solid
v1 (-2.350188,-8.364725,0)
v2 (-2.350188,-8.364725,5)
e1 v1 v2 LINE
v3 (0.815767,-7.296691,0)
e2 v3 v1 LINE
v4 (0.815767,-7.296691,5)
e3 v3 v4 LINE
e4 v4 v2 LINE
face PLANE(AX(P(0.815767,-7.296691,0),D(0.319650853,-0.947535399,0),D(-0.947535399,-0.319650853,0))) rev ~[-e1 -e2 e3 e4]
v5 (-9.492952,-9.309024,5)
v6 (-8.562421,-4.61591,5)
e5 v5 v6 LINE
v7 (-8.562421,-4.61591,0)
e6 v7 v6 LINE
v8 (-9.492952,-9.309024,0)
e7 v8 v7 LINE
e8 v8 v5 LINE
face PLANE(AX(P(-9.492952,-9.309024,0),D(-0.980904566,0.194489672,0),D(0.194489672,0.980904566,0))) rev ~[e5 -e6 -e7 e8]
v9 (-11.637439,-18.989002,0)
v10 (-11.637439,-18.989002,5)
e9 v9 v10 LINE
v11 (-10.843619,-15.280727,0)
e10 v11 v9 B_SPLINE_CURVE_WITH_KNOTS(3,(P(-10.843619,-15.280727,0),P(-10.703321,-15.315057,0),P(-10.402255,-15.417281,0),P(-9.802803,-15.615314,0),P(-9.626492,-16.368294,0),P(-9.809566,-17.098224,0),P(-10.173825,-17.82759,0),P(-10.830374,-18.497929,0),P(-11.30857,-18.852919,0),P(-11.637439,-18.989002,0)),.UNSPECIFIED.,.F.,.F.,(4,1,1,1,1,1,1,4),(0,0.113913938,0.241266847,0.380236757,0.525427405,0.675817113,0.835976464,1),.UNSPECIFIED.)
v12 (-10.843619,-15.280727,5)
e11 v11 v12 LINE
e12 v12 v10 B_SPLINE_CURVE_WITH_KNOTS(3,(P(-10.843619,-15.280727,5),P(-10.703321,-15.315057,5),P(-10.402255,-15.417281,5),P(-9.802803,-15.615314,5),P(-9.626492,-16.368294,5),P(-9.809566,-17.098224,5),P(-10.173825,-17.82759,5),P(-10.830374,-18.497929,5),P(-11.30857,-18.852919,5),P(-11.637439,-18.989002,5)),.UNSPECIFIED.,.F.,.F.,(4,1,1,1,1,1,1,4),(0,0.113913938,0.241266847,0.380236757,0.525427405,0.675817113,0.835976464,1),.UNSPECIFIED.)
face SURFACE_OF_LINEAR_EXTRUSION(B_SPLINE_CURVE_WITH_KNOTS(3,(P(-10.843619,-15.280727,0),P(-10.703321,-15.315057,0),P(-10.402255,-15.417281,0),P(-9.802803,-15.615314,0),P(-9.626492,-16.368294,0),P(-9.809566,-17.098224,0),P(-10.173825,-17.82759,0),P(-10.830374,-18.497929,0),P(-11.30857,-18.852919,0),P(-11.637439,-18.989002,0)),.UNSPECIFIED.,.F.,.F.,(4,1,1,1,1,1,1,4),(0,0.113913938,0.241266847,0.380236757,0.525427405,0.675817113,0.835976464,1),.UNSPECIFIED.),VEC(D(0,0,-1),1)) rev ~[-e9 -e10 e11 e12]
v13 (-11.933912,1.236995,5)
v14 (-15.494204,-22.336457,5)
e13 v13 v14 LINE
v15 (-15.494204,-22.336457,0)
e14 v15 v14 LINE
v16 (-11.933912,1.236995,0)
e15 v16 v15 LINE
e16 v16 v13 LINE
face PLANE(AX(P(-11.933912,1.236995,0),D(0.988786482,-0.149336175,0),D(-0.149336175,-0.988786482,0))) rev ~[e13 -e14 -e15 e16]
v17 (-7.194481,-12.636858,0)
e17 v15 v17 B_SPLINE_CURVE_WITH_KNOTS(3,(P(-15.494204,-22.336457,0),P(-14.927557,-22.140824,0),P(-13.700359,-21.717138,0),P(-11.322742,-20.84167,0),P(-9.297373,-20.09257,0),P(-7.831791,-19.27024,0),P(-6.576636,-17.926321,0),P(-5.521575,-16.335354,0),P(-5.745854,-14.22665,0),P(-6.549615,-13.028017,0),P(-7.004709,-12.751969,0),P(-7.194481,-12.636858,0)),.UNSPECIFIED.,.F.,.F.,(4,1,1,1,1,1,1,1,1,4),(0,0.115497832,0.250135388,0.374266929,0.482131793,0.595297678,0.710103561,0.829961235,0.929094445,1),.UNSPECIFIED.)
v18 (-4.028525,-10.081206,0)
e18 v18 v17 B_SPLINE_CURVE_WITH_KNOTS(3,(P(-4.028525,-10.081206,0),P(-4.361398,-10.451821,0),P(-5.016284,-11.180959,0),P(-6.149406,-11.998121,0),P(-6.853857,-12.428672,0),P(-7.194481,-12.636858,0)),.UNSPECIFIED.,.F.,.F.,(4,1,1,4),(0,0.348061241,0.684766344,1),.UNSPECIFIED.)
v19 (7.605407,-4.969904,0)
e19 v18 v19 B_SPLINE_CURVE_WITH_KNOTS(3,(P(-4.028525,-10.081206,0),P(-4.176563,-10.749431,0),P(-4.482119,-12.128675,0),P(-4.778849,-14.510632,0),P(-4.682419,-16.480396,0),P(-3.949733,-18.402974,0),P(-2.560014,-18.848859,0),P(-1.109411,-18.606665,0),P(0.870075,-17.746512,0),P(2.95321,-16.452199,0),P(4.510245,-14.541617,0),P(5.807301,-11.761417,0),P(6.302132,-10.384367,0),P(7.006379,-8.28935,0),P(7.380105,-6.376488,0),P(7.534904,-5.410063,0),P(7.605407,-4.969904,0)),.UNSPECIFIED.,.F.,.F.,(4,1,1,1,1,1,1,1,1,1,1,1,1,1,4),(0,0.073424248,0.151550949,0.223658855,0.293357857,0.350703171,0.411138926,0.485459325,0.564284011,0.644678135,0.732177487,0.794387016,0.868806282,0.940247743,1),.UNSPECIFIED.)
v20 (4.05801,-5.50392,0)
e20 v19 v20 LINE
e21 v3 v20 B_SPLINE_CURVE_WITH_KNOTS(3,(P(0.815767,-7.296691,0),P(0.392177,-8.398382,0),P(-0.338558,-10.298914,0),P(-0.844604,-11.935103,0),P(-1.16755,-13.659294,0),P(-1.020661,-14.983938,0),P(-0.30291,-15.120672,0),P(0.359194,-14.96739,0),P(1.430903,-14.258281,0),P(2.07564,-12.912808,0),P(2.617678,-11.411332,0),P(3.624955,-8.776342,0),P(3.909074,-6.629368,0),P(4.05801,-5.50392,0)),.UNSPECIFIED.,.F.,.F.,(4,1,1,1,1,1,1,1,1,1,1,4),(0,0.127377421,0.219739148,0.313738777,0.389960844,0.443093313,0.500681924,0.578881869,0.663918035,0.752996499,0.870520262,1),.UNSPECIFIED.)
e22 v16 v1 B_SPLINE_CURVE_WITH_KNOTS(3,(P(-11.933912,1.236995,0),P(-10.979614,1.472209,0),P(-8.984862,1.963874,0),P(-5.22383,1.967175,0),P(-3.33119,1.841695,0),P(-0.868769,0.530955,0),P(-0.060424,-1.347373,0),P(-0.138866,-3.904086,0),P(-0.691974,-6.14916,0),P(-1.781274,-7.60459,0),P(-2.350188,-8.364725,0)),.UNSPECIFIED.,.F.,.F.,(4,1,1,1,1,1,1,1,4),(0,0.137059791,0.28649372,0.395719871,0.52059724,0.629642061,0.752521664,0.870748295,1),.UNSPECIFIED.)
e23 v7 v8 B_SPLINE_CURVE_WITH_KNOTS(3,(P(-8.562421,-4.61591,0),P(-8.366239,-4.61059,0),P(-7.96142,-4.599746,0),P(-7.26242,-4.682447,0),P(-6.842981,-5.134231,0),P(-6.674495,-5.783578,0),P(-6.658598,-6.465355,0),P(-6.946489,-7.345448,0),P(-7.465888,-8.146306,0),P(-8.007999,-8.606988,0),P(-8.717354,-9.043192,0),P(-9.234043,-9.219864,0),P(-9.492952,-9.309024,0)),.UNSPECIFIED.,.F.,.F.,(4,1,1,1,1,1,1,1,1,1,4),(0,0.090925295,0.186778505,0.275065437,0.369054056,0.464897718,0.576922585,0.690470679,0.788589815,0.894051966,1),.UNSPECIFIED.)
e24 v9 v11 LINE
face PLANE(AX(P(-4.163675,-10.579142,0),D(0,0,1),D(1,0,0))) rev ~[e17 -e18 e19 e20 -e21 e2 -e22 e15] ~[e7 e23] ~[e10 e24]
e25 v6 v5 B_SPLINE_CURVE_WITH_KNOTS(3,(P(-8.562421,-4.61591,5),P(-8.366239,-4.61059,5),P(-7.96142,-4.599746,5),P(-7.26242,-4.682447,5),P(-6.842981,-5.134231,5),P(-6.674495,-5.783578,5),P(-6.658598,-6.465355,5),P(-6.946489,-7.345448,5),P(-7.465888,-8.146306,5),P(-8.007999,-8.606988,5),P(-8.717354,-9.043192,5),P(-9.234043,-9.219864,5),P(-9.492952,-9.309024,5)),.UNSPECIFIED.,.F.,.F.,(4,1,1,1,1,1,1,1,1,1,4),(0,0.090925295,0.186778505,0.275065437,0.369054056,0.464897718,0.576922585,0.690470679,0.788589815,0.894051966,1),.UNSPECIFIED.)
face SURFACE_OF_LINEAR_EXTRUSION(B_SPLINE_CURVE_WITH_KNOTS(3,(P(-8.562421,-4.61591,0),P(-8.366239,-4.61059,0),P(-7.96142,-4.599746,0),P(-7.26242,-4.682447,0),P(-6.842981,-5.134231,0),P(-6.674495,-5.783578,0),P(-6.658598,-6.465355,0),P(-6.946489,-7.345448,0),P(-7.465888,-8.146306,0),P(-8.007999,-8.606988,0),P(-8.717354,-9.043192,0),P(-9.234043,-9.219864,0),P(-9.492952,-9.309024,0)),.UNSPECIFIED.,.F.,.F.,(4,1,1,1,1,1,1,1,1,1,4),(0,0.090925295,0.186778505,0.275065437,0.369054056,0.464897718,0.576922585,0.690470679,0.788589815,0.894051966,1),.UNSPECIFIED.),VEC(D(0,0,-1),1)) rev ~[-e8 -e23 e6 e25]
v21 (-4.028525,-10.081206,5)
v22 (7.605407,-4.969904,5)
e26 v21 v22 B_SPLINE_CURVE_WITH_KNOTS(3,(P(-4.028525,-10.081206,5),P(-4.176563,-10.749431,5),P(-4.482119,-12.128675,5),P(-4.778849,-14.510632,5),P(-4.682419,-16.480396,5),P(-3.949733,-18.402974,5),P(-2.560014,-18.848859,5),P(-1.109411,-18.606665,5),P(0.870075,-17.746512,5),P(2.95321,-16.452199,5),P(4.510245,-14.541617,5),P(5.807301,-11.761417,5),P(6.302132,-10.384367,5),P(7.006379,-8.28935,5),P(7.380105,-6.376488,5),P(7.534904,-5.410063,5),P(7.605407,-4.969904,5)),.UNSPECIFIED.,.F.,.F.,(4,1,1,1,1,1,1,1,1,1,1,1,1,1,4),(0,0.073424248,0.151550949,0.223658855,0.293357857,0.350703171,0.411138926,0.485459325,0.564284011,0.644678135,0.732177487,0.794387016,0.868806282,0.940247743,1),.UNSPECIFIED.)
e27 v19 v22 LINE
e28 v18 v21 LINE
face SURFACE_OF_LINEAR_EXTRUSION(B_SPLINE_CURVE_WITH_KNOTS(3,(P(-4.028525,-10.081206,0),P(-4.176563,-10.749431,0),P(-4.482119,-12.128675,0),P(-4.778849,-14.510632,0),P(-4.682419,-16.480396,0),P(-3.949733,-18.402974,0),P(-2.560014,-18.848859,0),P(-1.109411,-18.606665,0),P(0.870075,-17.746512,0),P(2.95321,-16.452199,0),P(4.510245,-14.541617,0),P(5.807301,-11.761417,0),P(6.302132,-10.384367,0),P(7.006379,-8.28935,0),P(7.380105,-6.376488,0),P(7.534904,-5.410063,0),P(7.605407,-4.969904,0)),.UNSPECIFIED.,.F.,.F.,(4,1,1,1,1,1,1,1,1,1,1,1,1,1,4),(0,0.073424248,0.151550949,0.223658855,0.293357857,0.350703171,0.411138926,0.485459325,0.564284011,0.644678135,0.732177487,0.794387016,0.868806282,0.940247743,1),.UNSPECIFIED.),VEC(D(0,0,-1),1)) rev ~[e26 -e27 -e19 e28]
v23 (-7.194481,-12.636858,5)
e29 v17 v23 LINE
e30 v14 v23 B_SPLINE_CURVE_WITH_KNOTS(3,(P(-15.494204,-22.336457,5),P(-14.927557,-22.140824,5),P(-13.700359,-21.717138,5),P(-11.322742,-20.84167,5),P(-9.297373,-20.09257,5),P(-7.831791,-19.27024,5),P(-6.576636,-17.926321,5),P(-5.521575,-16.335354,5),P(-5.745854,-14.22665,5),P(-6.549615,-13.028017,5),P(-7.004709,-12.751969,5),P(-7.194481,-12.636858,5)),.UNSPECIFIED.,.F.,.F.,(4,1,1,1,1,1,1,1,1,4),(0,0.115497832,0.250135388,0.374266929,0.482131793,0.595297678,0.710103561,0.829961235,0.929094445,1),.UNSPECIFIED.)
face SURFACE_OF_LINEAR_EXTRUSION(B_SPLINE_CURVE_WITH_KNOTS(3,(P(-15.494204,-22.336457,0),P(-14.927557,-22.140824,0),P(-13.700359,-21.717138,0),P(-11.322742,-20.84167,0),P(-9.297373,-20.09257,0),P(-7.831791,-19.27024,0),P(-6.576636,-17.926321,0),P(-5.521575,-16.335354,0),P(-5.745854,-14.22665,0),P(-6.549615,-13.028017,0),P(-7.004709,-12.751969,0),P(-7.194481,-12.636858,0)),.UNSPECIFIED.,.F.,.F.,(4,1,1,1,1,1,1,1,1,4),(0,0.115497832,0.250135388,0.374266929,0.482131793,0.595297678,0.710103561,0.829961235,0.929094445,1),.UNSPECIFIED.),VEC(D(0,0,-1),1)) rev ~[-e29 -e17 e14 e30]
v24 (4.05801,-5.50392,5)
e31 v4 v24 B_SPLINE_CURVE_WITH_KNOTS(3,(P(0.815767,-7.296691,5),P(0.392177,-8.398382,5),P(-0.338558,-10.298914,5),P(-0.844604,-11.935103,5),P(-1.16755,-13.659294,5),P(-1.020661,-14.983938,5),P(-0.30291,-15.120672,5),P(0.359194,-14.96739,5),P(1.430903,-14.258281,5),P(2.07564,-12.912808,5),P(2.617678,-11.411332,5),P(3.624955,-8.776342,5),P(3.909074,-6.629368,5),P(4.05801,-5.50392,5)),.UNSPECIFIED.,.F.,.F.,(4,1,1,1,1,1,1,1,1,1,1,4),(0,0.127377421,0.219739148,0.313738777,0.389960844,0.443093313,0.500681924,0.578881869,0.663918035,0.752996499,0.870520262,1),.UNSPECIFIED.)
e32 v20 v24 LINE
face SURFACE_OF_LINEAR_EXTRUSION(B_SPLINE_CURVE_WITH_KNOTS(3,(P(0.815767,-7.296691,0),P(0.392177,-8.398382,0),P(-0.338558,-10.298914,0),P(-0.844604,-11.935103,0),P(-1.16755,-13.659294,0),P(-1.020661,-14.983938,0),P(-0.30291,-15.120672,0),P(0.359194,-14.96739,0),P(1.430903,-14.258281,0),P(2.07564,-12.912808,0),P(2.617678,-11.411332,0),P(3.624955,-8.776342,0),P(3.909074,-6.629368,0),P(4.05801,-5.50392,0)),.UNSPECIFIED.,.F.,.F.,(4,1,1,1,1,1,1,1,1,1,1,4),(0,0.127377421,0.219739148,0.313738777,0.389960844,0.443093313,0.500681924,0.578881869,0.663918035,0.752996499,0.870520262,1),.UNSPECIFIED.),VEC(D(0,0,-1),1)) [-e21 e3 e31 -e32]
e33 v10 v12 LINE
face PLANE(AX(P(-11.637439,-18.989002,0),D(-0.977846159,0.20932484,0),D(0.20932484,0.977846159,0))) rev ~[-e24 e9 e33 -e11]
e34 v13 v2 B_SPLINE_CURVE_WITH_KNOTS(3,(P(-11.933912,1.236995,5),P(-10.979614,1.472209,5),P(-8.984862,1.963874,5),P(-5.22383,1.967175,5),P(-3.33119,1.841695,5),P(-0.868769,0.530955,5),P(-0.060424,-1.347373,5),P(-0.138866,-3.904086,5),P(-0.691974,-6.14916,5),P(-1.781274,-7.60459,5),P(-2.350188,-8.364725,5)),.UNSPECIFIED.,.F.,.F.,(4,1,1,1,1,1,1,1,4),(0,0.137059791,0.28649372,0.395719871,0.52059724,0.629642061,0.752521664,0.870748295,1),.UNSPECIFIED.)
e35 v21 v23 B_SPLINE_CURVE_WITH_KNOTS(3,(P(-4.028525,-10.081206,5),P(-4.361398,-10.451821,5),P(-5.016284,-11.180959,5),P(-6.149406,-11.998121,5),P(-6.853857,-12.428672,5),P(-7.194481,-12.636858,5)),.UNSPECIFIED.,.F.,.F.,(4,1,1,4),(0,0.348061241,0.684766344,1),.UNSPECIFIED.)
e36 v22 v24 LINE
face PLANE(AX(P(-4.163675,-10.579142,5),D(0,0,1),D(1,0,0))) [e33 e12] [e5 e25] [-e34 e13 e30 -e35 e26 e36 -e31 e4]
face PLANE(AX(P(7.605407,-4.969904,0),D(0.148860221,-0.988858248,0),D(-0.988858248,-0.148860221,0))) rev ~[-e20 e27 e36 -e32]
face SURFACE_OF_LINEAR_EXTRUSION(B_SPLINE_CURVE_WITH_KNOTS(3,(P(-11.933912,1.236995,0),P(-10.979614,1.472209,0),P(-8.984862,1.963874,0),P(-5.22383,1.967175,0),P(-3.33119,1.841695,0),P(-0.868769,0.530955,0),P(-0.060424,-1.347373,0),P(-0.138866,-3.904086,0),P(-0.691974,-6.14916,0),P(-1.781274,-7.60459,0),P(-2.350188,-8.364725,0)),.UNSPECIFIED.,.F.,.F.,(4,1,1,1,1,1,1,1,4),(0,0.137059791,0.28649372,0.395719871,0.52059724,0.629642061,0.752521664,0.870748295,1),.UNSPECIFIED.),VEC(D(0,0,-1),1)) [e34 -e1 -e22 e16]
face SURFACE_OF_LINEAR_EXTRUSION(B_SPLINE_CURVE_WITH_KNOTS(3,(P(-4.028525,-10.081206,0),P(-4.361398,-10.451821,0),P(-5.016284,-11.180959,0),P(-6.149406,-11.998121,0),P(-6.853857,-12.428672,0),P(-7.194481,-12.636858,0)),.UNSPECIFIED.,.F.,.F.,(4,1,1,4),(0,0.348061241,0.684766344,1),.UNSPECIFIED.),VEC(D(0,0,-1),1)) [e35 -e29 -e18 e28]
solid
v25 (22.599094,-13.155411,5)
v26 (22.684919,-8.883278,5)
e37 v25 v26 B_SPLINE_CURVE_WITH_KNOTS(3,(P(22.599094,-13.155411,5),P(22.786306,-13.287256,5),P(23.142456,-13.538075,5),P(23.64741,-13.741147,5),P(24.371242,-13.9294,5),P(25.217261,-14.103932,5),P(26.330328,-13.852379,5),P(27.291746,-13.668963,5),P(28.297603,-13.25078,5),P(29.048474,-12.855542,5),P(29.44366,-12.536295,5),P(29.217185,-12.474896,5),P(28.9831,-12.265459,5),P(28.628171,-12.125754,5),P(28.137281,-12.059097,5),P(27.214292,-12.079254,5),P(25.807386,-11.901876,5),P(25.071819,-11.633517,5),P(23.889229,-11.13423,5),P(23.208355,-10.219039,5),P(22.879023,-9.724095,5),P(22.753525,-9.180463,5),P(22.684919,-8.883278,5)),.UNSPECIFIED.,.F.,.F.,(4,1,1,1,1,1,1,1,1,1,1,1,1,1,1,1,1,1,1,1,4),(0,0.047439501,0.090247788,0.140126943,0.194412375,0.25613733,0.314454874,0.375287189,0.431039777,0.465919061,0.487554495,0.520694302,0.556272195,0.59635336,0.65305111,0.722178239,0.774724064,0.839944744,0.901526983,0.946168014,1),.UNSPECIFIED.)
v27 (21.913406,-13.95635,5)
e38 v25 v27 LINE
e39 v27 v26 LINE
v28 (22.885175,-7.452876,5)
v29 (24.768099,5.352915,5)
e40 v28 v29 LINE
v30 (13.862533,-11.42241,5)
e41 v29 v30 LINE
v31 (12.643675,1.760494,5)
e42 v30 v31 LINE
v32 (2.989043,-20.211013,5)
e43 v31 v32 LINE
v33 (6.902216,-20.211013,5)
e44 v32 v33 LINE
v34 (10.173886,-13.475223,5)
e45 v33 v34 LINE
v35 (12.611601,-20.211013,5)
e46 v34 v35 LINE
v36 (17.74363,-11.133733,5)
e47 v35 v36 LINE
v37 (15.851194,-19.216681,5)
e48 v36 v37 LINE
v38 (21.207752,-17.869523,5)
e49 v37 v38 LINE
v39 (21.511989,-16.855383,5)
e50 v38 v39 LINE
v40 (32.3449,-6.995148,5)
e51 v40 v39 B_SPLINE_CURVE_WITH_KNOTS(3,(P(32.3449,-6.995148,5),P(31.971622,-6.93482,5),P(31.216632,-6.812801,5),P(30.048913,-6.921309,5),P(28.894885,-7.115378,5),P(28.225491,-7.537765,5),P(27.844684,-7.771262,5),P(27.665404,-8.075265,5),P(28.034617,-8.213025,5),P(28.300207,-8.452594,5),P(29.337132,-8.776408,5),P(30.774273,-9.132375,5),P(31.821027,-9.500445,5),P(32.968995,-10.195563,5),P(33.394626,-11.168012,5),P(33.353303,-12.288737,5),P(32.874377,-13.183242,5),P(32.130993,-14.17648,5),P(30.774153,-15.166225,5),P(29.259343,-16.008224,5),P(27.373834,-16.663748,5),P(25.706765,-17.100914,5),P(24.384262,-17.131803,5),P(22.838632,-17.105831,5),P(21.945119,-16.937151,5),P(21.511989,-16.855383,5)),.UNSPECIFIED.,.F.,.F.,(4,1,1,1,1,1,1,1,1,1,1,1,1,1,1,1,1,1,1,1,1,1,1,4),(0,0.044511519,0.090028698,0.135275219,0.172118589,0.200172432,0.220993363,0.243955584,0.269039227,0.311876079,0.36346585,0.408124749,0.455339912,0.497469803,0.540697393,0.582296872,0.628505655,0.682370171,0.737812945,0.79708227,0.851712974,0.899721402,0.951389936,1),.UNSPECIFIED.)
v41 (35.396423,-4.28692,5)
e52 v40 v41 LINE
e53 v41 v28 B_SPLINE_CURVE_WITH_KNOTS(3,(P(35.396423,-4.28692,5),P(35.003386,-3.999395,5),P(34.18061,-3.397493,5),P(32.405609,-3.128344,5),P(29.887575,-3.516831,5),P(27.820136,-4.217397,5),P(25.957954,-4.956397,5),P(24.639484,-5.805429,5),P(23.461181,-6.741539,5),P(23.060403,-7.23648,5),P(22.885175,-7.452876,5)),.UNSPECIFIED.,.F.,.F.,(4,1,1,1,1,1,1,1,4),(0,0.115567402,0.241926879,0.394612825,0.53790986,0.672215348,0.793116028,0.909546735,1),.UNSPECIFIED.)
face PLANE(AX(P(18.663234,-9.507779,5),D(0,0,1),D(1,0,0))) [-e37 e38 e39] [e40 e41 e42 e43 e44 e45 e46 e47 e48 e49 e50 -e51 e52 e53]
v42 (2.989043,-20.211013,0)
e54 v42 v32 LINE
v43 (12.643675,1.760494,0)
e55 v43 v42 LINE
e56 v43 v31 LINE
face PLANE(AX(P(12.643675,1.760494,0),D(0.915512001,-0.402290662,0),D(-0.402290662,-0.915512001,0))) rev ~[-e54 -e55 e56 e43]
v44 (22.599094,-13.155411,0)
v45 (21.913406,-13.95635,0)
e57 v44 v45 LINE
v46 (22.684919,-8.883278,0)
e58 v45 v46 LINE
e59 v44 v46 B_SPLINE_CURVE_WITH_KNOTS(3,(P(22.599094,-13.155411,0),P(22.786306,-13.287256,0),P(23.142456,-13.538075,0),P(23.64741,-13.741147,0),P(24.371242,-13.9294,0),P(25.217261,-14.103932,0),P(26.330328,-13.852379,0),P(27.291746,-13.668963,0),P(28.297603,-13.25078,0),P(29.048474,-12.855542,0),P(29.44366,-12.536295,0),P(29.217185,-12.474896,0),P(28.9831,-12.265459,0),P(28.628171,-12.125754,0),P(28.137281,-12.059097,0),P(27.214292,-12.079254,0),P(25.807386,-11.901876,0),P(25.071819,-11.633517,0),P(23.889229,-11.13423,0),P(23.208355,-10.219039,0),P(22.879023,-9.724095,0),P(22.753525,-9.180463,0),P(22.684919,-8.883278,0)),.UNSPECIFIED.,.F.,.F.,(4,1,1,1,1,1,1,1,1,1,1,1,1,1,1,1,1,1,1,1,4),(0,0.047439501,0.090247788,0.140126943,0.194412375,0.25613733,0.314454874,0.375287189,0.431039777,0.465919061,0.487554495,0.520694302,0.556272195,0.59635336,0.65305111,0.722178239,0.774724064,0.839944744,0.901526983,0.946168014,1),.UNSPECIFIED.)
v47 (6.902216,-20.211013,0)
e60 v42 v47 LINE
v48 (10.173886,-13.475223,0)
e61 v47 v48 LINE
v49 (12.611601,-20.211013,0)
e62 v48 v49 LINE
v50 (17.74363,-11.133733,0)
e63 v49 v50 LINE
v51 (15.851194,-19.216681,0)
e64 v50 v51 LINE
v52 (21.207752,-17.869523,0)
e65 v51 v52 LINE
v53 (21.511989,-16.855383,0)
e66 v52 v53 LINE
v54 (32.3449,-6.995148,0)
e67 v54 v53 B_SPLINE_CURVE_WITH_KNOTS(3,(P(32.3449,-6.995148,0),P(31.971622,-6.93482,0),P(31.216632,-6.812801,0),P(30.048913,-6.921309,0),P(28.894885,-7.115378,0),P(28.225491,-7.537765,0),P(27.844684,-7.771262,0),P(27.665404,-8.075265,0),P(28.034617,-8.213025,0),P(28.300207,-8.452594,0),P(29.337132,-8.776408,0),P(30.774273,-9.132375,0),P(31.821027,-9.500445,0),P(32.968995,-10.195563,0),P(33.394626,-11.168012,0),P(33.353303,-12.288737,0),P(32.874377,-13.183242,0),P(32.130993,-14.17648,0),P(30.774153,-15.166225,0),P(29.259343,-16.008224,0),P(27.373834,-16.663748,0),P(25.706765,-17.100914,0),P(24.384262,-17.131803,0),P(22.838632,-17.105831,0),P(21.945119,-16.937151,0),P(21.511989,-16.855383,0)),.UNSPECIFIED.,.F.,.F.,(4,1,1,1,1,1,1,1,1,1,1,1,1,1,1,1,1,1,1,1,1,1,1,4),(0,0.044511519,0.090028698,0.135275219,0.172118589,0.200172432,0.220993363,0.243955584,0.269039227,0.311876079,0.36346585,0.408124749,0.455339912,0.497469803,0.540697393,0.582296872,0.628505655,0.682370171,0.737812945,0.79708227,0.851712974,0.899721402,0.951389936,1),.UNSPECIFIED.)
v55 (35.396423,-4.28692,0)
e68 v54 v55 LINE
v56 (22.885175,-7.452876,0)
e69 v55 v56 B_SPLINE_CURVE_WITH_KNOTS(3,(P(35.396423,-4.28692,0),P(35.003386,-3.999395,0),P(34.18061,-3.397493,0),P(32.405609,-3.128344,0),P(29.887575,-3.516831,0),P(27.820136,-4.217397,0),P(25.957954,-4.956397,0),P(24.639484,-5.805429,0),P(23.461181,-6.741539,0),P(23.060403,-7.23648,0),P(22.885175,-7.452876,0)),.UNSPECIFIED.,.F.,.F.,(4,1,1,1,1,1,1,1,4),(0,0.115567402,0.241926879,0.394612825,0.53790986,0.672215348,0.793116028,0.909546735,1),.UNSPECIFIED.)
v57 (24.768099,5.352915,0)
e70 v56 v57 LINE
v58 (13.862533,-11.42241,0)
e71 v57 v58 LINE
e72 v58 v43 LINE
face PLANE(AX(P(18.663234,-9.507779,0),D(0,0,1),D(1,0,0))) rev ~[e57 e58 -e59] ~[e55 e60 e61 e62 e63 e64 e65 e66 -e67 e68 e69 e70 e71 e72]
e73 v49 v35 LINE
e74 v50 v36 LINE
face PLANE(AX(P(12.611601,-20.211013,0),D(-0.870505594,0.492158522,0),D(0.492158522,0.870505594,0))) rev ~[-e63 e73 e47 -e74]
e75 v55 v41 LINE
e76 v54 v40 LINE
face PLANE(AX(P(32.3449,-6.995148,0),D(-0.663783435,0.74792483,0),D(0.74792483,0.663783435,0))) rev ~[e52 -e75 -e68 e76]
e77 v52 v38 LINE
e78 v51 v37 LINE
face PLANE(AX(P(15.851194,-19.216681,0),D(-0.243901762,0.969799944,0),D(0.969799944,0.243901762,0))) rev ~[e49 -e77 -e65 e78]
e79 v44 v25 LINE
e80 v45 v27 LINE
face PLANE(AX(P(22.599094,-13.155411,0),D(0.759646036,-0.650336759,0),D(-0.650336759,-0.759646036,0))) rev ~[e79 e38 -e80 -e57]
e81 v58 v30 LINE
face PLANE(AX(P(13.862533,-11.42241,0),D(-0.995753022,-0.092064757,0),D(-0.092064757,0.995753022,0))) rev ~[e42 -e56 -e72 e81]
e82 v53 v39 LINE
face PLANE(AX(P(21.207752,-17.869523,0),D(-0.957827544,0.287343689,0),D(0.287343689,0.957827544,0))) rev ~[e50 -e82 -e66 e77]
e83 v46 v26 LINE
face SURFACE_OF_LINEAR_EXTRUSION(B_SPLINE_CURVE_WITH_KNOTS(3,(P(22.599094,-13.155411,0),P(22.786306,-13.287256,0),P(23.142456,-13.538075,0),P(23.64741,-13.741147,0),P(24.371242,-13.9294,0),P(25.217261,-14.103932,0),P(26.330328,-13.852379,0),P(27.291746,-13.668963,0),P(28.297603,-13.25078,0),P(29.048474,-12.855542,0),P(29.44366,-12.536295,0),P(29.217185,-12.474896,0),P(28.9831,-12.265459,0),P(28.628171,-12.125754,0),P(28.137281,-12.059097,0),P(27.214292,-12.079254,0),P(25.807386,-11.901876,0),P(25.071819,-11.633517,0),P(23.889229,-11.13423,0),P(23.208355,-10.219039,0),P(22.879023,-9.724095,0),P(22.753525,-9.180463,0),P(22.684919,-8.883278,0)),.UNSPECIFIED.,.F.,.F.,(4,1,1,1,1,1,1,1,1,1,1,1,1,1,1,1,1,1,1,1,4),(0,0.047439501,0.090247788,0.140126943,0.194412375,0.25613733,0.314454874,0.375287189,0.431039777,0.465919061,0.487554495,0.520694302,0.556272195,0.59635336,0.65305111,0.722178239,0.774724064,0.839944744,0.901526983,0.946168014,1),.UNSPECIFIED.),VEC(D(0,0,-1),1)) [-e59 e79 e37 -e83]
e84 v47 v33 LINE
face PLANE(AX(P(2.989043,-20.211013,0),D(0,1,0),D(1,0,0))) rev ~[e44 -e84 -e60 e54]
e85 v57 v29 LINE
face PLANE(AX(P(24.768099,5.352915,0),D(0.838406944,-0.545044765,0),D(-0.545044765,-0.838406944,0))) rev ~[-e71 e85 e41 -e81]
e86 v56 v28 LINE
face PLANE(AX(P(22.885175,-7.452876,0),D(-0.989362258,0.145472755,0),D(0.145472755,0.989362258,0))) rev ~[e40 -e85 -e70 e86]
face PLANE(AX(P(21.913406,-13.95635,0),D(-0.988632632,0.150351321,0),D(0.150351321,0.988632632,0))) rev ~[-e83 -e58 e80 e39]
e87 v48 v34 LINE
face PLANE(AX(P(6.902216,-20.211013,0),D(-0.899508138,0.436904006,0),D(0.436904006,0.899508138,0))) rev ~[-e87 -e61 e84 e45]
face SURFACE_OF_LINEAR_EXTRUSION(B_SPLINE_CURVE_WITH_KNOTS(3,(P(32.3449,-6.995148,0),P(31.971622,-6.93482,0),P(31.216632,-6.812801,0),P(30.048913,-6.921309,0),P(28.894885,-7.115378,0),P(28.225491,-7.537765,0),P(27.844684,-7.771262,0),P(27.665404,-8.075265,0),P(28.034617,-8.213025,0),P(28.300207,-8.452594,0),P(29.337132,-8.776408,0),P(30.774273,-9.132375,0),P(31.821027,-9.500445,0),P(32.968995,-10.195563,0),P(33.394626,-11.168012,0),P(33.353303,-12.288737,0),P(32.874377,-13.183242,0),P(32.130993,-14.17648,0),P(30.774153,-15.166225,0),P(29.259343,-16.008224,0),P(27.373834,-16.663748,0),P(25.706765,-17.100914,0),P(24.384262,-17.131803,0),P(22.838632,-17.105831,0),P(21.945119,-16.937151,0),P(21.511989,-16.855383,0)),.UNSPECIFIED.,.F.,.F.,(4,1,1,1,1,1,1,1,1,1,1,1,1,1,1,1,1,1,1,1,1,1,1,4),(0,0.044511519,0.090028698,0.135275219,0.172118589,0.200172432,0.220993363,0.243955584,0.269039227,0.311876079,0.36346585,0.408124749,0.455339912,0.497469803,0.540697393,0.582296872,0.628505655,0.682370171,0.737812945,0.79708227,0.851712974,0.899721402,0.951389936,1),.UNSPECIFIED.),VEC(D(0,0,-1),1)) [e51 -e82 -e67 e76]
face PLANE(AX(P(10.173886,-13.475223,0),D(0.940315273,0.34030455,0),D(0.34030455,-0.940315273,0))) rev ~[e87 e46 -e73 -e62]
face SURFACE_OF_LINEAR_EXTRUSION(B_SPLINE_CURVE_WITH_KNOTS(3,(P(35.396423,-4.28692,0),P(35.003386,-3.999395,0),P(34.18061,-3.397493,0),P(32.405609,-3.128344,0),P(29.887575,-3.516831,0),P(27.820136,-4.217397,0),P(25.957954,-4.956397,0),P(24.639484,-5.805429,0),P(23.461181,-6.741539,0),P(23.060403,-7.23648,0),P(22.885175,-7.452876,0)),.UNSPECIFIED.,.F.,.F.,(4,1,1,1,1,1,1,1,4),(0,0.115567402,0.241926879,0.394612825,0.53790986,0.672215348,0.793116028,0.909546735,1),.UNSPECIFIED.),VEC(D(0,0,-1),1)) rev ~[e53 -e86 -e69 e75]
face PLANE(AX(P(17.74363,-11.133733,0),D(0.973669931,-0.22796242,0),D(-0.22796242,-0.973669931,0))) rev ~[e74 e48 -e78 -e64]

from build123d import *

# Parameters (mm, degrees)
F1_DEPTH = 5


with BuildPart() as f1:
    # F0 (on Top) → F1 (new body)
    with BuildSketch(Plane.XY):
        with BuildLine():
            Line((-11.9339115918, 1.2369948672), (-15.4942041263, -22.3364569247))
            add(Edge.make_bspline(
                [(-15.4942041263, -22.3364569247), (-14.9275565475, -22.140823668), (-13.7003593821, -21.717137788), (-11.3227416299, -20.841670387), (-9.2973726702, -20.0925704973), (-7.831790759, -19.270240376), (-6.576636471, -17.9263205711), (-5.5215748727, -16.3353539415), (-5.7458541424, -14.2266496026), (-6.5496151072, -13.02801702), (-7.0047088618, -12.7519690511), (-7.1944813244, -12.6368580386)],
                knots=[0, 0, 0, 0, 0.1154978319, 0.2501353878, 0.3742669287, 0.4821317926, 0.5952976777, 0.7101035609, 0.829961235, 0.9290944451, 1, 1, 1, 1], degree=3))
            add(Edge.make_bspline(
                [(-4.0285252035, -10.0812064484), (-4.3613983661, -10.451821146), (-5.0162840913, -11.1809585543), (-6.1494060095, -11.9981207157), (-6.8538565223, -12.428672302), (-7.1944813244, -12.6368580386)],
                knots=[0, 0, 0, 0, 0.3480612414, 0.684766344, 1, 1, 1, 1], degree=3))
            add(Edge.make_bspline(
                [(-4.0285252035, -10.0812064484), (-4.1765626816, -10.7494306121), (-4.4821186932, -12.1286753339), (-4.7788494338, -14.5106317337), (-4.6824192494, -16.4803958858), (-3.9497327675, -18.4029742085), (-2.5600138272, -18.8488591096), (-1.1094105527, -18.6066651591), (0.870074742, -17.7465124687), (2.9532099101, -16.45219886), (4.5102446816, -14.5416170976), (5.8073007182, -11.7614166469), (6.3021321717, -10.384367405), (7.0063793042, -8.2893500091), (7.3801050806, -6.3764877409), (7.534904087, -5.4100629487), (7.605407387, -4.9699041992)],
                knots=[0, 0, 0, 0, 0.0734242477, 0.1515509489, 0.2236588551, 0.2933578572, 0.3507031706, 0.4111389259, 0.4854593255, 0.5642840114, 0.6446781352, 0.7321774873, 0.794387016, 0.8688062823, 0.9402477428, 1, 1, 1, 1], degree=3))
            Line((7.605407387, -4.9699041992), (4.0580104105, -5.5039203726))
            add(Edge.make_bspline(
                [(0.8157671546, -7.2966907173), (0.392177426, -8.3983824468), (-0.3385584106, -10.2989139594), (-0.8446044507, -11.9351028085), (-1.1675495345, -13.6592939514), (-1.0206611002, -14.9839379688), (-0.3029098706, -15.1206715644), (0.359193733, -14.9673898334), (1.430903313, -14.2582811685), (2.0756398847, -12.912807819), (2.6176783013, -11.4113319326), (3.6249545524, -8.7763418161), (3.9090742741, -6.6293682733), (4.0580104105, -5.5039203726)],
                knots=[0, 0, 0, 0, 0.1273774207, 0.2197391481, 0.3137387774, 0.3899608444, 0.4430933127, 0.500681924, 0.5788818693, 0.6639180353, 0.7529964993, 0.8705202623, 1, 1, 1, 1], degree=3))
            Line((0.8157671546, -7.2966907173), (-2.3501878604, -8.3647249267))
            add(Edge.make_bspline(
                [(-11.9339115918, 1.2369948672), (-10.9796138257, 1.4722094614), (-8.9848616492, 1.9638744746), (-5.2238298859, 1.9671752862), (-3.3311900704, 1.8416948837), (-0.8687690858, 0.5309553073), (-0.0604239132, -1.3473730095), (-0.138866357, -3.9040861608), (-0.6919741352, -6.1491604791), (-1.7812739747, -7.6045904761), (-2.3501878604, -8.3647249267)],
                knots=[0, 0, 0, 0, 0.1370597913, 0.2864937201, 0.3957198708, 0.5205972396, 0.629642061, 0.752521664, 0.8707482948, 1, 1, 1, 1], degree=3))
        make_face()
        with BuildLine():
            add(Edge.make_bspline(
                [(-10.8436187729, -15.2807272971), (-10.70332069, -15.3150570995), (-10.4022551094, -15.4172808235), (-9.8028030152, -15.6153138212), (-9.6264916345, -16.3682936676), (-9.8095664104, -17.0982242739), (-10.1738248562, -17.8275903701), (-10.8303737441, -18.4979285041), (-11.3085703924, -18.8529193401), (-11.63743902, -18.9890023321)],
                knots=[0, 0, 0, 0, 0.1139139383, 0.2412668472, 0.3802367572, 0.5254274053, 0.6758171135, 0.8359764645, 1, 1, 1, 1], degree=3))
            Line((-11.63743902, -18.9890023321), (-10.8436187729, -15.2807272971))
        make_face(mode=Mode.SUBTRACT)
        with BuildLine():
            add(Edge.make_bspline(
                [(-8.5624214262, -4.6159103513), (-8.3662386348, -4.6105898342), (-7.961419712, -4.5997464121), (-7.2624195509, -4.682447499), (-6.842980735, -5.1342312972), (-6.6744954788, -5.7835784605), (-6.6585979694, -6.4653552795), (-6.9464888518, -7.3454475041), (-7.4658883383, -8.1463059856), (-8.0079994552, -8.6069878323), (-8.7173544583, -9.0431923538), (-9.2340425255, -9.2198639021), (-9.4929523766, -9.3090236187)],
                knots=[0, 0, 0, 0, 0.0909252953, 0.1867785052, 0.2750654367, 0.3690540556, 0.4648977176, 0.576922585, 0.6904706787, 0.788589815, 0.8940519656, 1, 1, 1, 1], degree=3))
            Line((-9.4929523766, -9.3090236187), (-8.5624214262, -4.6159103513))
        make_face(mode=Mode.SUBTRACT)
    extrude(amount=F1_DEPTH)


with BuildPart() as f1b:
    # F0 (on Top) → F1, piece 2 (new body)
    with BuildSketch(Plane.XY):
        with BuildLine():
            Line((32.3449000716, -6.9951475598), (35.3964231908, -4.2869201861))
            add(Edge.make_bspline(
                [(35.3964231908, -4.2869201861), (35.0033863439, -3.9993946344), (34.1806095403, -3.3974934228), (32.4056094483, -3.1283439329), (29.8875753894, -3.5168305226), (27.820135685, -4.217397492), (25.9579543114, -4.9563967637), (24.6394839883, -5.8054290916), (23.4611808588, -6.7415388796), (23.0604026245, -7.2364796213), (22.8851754218, -7.4528763071)],
                knots=[0, 0, 0, 0, 0.1155674022, 0.2419268791, 0.394612825, 0.5379098603, 0.6722153485, 0.7931160282, 0.9095467355, 1, 1, 1, 1], degree=3))
            Line((22.8851754218, -7.4528763071), (24.7680991888, 5.352914799))
            Line((24.7680991888, 5.352914799), (13.8625325635, -11.422409676))
            Line((13.8625325635, -11.422409676), (12.6436753199, 1.7604936147))
            Line((12.6436753199, 1.7604936147), (2.9890427832, -20.211013034))
            Line((2.9890427832, -20.211013034), (6.9022160023, -20.211013034))
            Line((6.9022160023, -20.211013034), (10.1738860831, -13.4752225131))
            Line((10.1738860831, -13.4752225131), (12.6116005704, -20.211013034))
            Line((12.6116005704, -20.211013034), (17.7436303347, -11.1337332055))
            Line((17.7436303347, -11.1337332055), (15.851194039, -19.2166808993))
            Line((15.851194039, -19.2166808993), (21.2077517062, -17.8695227951))
            Line((21.2077517062, -17.8695227951), (21.5119887143, -16.8553832918))
            add(Edge.make_bspline(
                [(32.3449000716, -6.9951475598), (31.9716217807, -6.9348196191), (31.2166316227, -6.8128007323), (30.0489131862, -6.9213092877), (28.8948852837, -7.1153781332), (28.2254914254, -7.537765255), (27.8446839361, -7.7712617595), (27.6654041714, -8.0752646901), (28.0346173437, -8.2130252202), (28.3002071528, -8.452594206), (29.3371315449, -8.7764080738), (30.7742729499, -9.1323747826), (31.8210267688, -9.5004445437), (32.9689948015, -10.1955633605), (33.3946262492, -11.1680118439), (33.3533029309, -12.2887370753), (32.874376806, -13.1832424561), (32.1309926666, -14.1764803224), (30.77415279, -15.1662248161), (29.2593431396, -16.0082243911), (27.3738339133, -16.6637481999), (25.7067645715, -17.1009142258), (24.3842616001, -17.1318026064), (22.8386320744, -17.1058314132), (21.9451192038, -16.9371510982), (21.5119887143, -16.8553832918)],
                knots=[0, 0, 0, 0, 0.0445115188, 0.0900286982, 0.1352752191, 0.1721185894, 0.2001724321, 0.2209933626, 0.2439555842, 0.2690392275, 0.3118760791, 0.3634658497, 0.4081247488, 0.4553399115, 0.4974698032, 0.5406973925, 0.5822968719, 0.6285056548, 0.6823701708, 0.7378129447, 0.7970822704, 0.851712974, 0.8997214023, 0.9513899357, 1, 1, 1, 1], degree=3))
        make_face()
        with BuildLine():
            add(Edge.make_bspline(
                [(22.599093616, -13.1554109976), (22.786306473, -13.2872559939), (23.1424557952, -13.5380748043), (23.6474098879, -13.7411471993), (24.3712422437, -13.9293996), (25.2172606403, -14.1039318707), (26.3303276172, -13.8523789715), (27.2917456379, -13.6689630781), (28.2976032868, -13.2507802397), (29.0484744516, -12.8555420692), (29.4436596086, -12.5362954578), (29.2171852605, -12.4748962395), (28.9830996585, -12.2654588015), (28.6281708823, -12.1257540648), (28.1372806632, -12.0590967434), (27.2142916764, -12.0792540901), (25.8073858304, -11.9018761134), (25.0718186376, -11.6335171089), (23.8892291143, -11.1342300075), (23.208354649, -10.2190386654), (22.8790233204, -9.7240946414), (22.7535247119, -9.1804633686), (22.6849187165, -8.8832778856)],
                knots=[0, 0, 0, 0, 0.0474395014, 0.0902477883, 0.1401269433, 0.1944123753, 0.2561373298, 0.3144548744, 0.3752871886, 0.4310397774, 0.4659190607, 0.4875544953, 0.5206943019, 0.5562721954, 0.5963533595, 0.6530511105, 0.7221782392, 0.7747240641, 0.8399447444, 0.9015269831, 0.946168014, 1, 1, 1, 1], degree=3))
            Line((22.599093616, -13.1554109976), (21.9134055078, -13.9563502744))
            Line((21.9134055078, -13.9563502744), (22.6849187165, -8.8832778856))
        make_face(mode=Mode.SUBTRACT)
    extrude(amount=F1_DEPTH)


solid = Compound([f1.part, f1b.part])
